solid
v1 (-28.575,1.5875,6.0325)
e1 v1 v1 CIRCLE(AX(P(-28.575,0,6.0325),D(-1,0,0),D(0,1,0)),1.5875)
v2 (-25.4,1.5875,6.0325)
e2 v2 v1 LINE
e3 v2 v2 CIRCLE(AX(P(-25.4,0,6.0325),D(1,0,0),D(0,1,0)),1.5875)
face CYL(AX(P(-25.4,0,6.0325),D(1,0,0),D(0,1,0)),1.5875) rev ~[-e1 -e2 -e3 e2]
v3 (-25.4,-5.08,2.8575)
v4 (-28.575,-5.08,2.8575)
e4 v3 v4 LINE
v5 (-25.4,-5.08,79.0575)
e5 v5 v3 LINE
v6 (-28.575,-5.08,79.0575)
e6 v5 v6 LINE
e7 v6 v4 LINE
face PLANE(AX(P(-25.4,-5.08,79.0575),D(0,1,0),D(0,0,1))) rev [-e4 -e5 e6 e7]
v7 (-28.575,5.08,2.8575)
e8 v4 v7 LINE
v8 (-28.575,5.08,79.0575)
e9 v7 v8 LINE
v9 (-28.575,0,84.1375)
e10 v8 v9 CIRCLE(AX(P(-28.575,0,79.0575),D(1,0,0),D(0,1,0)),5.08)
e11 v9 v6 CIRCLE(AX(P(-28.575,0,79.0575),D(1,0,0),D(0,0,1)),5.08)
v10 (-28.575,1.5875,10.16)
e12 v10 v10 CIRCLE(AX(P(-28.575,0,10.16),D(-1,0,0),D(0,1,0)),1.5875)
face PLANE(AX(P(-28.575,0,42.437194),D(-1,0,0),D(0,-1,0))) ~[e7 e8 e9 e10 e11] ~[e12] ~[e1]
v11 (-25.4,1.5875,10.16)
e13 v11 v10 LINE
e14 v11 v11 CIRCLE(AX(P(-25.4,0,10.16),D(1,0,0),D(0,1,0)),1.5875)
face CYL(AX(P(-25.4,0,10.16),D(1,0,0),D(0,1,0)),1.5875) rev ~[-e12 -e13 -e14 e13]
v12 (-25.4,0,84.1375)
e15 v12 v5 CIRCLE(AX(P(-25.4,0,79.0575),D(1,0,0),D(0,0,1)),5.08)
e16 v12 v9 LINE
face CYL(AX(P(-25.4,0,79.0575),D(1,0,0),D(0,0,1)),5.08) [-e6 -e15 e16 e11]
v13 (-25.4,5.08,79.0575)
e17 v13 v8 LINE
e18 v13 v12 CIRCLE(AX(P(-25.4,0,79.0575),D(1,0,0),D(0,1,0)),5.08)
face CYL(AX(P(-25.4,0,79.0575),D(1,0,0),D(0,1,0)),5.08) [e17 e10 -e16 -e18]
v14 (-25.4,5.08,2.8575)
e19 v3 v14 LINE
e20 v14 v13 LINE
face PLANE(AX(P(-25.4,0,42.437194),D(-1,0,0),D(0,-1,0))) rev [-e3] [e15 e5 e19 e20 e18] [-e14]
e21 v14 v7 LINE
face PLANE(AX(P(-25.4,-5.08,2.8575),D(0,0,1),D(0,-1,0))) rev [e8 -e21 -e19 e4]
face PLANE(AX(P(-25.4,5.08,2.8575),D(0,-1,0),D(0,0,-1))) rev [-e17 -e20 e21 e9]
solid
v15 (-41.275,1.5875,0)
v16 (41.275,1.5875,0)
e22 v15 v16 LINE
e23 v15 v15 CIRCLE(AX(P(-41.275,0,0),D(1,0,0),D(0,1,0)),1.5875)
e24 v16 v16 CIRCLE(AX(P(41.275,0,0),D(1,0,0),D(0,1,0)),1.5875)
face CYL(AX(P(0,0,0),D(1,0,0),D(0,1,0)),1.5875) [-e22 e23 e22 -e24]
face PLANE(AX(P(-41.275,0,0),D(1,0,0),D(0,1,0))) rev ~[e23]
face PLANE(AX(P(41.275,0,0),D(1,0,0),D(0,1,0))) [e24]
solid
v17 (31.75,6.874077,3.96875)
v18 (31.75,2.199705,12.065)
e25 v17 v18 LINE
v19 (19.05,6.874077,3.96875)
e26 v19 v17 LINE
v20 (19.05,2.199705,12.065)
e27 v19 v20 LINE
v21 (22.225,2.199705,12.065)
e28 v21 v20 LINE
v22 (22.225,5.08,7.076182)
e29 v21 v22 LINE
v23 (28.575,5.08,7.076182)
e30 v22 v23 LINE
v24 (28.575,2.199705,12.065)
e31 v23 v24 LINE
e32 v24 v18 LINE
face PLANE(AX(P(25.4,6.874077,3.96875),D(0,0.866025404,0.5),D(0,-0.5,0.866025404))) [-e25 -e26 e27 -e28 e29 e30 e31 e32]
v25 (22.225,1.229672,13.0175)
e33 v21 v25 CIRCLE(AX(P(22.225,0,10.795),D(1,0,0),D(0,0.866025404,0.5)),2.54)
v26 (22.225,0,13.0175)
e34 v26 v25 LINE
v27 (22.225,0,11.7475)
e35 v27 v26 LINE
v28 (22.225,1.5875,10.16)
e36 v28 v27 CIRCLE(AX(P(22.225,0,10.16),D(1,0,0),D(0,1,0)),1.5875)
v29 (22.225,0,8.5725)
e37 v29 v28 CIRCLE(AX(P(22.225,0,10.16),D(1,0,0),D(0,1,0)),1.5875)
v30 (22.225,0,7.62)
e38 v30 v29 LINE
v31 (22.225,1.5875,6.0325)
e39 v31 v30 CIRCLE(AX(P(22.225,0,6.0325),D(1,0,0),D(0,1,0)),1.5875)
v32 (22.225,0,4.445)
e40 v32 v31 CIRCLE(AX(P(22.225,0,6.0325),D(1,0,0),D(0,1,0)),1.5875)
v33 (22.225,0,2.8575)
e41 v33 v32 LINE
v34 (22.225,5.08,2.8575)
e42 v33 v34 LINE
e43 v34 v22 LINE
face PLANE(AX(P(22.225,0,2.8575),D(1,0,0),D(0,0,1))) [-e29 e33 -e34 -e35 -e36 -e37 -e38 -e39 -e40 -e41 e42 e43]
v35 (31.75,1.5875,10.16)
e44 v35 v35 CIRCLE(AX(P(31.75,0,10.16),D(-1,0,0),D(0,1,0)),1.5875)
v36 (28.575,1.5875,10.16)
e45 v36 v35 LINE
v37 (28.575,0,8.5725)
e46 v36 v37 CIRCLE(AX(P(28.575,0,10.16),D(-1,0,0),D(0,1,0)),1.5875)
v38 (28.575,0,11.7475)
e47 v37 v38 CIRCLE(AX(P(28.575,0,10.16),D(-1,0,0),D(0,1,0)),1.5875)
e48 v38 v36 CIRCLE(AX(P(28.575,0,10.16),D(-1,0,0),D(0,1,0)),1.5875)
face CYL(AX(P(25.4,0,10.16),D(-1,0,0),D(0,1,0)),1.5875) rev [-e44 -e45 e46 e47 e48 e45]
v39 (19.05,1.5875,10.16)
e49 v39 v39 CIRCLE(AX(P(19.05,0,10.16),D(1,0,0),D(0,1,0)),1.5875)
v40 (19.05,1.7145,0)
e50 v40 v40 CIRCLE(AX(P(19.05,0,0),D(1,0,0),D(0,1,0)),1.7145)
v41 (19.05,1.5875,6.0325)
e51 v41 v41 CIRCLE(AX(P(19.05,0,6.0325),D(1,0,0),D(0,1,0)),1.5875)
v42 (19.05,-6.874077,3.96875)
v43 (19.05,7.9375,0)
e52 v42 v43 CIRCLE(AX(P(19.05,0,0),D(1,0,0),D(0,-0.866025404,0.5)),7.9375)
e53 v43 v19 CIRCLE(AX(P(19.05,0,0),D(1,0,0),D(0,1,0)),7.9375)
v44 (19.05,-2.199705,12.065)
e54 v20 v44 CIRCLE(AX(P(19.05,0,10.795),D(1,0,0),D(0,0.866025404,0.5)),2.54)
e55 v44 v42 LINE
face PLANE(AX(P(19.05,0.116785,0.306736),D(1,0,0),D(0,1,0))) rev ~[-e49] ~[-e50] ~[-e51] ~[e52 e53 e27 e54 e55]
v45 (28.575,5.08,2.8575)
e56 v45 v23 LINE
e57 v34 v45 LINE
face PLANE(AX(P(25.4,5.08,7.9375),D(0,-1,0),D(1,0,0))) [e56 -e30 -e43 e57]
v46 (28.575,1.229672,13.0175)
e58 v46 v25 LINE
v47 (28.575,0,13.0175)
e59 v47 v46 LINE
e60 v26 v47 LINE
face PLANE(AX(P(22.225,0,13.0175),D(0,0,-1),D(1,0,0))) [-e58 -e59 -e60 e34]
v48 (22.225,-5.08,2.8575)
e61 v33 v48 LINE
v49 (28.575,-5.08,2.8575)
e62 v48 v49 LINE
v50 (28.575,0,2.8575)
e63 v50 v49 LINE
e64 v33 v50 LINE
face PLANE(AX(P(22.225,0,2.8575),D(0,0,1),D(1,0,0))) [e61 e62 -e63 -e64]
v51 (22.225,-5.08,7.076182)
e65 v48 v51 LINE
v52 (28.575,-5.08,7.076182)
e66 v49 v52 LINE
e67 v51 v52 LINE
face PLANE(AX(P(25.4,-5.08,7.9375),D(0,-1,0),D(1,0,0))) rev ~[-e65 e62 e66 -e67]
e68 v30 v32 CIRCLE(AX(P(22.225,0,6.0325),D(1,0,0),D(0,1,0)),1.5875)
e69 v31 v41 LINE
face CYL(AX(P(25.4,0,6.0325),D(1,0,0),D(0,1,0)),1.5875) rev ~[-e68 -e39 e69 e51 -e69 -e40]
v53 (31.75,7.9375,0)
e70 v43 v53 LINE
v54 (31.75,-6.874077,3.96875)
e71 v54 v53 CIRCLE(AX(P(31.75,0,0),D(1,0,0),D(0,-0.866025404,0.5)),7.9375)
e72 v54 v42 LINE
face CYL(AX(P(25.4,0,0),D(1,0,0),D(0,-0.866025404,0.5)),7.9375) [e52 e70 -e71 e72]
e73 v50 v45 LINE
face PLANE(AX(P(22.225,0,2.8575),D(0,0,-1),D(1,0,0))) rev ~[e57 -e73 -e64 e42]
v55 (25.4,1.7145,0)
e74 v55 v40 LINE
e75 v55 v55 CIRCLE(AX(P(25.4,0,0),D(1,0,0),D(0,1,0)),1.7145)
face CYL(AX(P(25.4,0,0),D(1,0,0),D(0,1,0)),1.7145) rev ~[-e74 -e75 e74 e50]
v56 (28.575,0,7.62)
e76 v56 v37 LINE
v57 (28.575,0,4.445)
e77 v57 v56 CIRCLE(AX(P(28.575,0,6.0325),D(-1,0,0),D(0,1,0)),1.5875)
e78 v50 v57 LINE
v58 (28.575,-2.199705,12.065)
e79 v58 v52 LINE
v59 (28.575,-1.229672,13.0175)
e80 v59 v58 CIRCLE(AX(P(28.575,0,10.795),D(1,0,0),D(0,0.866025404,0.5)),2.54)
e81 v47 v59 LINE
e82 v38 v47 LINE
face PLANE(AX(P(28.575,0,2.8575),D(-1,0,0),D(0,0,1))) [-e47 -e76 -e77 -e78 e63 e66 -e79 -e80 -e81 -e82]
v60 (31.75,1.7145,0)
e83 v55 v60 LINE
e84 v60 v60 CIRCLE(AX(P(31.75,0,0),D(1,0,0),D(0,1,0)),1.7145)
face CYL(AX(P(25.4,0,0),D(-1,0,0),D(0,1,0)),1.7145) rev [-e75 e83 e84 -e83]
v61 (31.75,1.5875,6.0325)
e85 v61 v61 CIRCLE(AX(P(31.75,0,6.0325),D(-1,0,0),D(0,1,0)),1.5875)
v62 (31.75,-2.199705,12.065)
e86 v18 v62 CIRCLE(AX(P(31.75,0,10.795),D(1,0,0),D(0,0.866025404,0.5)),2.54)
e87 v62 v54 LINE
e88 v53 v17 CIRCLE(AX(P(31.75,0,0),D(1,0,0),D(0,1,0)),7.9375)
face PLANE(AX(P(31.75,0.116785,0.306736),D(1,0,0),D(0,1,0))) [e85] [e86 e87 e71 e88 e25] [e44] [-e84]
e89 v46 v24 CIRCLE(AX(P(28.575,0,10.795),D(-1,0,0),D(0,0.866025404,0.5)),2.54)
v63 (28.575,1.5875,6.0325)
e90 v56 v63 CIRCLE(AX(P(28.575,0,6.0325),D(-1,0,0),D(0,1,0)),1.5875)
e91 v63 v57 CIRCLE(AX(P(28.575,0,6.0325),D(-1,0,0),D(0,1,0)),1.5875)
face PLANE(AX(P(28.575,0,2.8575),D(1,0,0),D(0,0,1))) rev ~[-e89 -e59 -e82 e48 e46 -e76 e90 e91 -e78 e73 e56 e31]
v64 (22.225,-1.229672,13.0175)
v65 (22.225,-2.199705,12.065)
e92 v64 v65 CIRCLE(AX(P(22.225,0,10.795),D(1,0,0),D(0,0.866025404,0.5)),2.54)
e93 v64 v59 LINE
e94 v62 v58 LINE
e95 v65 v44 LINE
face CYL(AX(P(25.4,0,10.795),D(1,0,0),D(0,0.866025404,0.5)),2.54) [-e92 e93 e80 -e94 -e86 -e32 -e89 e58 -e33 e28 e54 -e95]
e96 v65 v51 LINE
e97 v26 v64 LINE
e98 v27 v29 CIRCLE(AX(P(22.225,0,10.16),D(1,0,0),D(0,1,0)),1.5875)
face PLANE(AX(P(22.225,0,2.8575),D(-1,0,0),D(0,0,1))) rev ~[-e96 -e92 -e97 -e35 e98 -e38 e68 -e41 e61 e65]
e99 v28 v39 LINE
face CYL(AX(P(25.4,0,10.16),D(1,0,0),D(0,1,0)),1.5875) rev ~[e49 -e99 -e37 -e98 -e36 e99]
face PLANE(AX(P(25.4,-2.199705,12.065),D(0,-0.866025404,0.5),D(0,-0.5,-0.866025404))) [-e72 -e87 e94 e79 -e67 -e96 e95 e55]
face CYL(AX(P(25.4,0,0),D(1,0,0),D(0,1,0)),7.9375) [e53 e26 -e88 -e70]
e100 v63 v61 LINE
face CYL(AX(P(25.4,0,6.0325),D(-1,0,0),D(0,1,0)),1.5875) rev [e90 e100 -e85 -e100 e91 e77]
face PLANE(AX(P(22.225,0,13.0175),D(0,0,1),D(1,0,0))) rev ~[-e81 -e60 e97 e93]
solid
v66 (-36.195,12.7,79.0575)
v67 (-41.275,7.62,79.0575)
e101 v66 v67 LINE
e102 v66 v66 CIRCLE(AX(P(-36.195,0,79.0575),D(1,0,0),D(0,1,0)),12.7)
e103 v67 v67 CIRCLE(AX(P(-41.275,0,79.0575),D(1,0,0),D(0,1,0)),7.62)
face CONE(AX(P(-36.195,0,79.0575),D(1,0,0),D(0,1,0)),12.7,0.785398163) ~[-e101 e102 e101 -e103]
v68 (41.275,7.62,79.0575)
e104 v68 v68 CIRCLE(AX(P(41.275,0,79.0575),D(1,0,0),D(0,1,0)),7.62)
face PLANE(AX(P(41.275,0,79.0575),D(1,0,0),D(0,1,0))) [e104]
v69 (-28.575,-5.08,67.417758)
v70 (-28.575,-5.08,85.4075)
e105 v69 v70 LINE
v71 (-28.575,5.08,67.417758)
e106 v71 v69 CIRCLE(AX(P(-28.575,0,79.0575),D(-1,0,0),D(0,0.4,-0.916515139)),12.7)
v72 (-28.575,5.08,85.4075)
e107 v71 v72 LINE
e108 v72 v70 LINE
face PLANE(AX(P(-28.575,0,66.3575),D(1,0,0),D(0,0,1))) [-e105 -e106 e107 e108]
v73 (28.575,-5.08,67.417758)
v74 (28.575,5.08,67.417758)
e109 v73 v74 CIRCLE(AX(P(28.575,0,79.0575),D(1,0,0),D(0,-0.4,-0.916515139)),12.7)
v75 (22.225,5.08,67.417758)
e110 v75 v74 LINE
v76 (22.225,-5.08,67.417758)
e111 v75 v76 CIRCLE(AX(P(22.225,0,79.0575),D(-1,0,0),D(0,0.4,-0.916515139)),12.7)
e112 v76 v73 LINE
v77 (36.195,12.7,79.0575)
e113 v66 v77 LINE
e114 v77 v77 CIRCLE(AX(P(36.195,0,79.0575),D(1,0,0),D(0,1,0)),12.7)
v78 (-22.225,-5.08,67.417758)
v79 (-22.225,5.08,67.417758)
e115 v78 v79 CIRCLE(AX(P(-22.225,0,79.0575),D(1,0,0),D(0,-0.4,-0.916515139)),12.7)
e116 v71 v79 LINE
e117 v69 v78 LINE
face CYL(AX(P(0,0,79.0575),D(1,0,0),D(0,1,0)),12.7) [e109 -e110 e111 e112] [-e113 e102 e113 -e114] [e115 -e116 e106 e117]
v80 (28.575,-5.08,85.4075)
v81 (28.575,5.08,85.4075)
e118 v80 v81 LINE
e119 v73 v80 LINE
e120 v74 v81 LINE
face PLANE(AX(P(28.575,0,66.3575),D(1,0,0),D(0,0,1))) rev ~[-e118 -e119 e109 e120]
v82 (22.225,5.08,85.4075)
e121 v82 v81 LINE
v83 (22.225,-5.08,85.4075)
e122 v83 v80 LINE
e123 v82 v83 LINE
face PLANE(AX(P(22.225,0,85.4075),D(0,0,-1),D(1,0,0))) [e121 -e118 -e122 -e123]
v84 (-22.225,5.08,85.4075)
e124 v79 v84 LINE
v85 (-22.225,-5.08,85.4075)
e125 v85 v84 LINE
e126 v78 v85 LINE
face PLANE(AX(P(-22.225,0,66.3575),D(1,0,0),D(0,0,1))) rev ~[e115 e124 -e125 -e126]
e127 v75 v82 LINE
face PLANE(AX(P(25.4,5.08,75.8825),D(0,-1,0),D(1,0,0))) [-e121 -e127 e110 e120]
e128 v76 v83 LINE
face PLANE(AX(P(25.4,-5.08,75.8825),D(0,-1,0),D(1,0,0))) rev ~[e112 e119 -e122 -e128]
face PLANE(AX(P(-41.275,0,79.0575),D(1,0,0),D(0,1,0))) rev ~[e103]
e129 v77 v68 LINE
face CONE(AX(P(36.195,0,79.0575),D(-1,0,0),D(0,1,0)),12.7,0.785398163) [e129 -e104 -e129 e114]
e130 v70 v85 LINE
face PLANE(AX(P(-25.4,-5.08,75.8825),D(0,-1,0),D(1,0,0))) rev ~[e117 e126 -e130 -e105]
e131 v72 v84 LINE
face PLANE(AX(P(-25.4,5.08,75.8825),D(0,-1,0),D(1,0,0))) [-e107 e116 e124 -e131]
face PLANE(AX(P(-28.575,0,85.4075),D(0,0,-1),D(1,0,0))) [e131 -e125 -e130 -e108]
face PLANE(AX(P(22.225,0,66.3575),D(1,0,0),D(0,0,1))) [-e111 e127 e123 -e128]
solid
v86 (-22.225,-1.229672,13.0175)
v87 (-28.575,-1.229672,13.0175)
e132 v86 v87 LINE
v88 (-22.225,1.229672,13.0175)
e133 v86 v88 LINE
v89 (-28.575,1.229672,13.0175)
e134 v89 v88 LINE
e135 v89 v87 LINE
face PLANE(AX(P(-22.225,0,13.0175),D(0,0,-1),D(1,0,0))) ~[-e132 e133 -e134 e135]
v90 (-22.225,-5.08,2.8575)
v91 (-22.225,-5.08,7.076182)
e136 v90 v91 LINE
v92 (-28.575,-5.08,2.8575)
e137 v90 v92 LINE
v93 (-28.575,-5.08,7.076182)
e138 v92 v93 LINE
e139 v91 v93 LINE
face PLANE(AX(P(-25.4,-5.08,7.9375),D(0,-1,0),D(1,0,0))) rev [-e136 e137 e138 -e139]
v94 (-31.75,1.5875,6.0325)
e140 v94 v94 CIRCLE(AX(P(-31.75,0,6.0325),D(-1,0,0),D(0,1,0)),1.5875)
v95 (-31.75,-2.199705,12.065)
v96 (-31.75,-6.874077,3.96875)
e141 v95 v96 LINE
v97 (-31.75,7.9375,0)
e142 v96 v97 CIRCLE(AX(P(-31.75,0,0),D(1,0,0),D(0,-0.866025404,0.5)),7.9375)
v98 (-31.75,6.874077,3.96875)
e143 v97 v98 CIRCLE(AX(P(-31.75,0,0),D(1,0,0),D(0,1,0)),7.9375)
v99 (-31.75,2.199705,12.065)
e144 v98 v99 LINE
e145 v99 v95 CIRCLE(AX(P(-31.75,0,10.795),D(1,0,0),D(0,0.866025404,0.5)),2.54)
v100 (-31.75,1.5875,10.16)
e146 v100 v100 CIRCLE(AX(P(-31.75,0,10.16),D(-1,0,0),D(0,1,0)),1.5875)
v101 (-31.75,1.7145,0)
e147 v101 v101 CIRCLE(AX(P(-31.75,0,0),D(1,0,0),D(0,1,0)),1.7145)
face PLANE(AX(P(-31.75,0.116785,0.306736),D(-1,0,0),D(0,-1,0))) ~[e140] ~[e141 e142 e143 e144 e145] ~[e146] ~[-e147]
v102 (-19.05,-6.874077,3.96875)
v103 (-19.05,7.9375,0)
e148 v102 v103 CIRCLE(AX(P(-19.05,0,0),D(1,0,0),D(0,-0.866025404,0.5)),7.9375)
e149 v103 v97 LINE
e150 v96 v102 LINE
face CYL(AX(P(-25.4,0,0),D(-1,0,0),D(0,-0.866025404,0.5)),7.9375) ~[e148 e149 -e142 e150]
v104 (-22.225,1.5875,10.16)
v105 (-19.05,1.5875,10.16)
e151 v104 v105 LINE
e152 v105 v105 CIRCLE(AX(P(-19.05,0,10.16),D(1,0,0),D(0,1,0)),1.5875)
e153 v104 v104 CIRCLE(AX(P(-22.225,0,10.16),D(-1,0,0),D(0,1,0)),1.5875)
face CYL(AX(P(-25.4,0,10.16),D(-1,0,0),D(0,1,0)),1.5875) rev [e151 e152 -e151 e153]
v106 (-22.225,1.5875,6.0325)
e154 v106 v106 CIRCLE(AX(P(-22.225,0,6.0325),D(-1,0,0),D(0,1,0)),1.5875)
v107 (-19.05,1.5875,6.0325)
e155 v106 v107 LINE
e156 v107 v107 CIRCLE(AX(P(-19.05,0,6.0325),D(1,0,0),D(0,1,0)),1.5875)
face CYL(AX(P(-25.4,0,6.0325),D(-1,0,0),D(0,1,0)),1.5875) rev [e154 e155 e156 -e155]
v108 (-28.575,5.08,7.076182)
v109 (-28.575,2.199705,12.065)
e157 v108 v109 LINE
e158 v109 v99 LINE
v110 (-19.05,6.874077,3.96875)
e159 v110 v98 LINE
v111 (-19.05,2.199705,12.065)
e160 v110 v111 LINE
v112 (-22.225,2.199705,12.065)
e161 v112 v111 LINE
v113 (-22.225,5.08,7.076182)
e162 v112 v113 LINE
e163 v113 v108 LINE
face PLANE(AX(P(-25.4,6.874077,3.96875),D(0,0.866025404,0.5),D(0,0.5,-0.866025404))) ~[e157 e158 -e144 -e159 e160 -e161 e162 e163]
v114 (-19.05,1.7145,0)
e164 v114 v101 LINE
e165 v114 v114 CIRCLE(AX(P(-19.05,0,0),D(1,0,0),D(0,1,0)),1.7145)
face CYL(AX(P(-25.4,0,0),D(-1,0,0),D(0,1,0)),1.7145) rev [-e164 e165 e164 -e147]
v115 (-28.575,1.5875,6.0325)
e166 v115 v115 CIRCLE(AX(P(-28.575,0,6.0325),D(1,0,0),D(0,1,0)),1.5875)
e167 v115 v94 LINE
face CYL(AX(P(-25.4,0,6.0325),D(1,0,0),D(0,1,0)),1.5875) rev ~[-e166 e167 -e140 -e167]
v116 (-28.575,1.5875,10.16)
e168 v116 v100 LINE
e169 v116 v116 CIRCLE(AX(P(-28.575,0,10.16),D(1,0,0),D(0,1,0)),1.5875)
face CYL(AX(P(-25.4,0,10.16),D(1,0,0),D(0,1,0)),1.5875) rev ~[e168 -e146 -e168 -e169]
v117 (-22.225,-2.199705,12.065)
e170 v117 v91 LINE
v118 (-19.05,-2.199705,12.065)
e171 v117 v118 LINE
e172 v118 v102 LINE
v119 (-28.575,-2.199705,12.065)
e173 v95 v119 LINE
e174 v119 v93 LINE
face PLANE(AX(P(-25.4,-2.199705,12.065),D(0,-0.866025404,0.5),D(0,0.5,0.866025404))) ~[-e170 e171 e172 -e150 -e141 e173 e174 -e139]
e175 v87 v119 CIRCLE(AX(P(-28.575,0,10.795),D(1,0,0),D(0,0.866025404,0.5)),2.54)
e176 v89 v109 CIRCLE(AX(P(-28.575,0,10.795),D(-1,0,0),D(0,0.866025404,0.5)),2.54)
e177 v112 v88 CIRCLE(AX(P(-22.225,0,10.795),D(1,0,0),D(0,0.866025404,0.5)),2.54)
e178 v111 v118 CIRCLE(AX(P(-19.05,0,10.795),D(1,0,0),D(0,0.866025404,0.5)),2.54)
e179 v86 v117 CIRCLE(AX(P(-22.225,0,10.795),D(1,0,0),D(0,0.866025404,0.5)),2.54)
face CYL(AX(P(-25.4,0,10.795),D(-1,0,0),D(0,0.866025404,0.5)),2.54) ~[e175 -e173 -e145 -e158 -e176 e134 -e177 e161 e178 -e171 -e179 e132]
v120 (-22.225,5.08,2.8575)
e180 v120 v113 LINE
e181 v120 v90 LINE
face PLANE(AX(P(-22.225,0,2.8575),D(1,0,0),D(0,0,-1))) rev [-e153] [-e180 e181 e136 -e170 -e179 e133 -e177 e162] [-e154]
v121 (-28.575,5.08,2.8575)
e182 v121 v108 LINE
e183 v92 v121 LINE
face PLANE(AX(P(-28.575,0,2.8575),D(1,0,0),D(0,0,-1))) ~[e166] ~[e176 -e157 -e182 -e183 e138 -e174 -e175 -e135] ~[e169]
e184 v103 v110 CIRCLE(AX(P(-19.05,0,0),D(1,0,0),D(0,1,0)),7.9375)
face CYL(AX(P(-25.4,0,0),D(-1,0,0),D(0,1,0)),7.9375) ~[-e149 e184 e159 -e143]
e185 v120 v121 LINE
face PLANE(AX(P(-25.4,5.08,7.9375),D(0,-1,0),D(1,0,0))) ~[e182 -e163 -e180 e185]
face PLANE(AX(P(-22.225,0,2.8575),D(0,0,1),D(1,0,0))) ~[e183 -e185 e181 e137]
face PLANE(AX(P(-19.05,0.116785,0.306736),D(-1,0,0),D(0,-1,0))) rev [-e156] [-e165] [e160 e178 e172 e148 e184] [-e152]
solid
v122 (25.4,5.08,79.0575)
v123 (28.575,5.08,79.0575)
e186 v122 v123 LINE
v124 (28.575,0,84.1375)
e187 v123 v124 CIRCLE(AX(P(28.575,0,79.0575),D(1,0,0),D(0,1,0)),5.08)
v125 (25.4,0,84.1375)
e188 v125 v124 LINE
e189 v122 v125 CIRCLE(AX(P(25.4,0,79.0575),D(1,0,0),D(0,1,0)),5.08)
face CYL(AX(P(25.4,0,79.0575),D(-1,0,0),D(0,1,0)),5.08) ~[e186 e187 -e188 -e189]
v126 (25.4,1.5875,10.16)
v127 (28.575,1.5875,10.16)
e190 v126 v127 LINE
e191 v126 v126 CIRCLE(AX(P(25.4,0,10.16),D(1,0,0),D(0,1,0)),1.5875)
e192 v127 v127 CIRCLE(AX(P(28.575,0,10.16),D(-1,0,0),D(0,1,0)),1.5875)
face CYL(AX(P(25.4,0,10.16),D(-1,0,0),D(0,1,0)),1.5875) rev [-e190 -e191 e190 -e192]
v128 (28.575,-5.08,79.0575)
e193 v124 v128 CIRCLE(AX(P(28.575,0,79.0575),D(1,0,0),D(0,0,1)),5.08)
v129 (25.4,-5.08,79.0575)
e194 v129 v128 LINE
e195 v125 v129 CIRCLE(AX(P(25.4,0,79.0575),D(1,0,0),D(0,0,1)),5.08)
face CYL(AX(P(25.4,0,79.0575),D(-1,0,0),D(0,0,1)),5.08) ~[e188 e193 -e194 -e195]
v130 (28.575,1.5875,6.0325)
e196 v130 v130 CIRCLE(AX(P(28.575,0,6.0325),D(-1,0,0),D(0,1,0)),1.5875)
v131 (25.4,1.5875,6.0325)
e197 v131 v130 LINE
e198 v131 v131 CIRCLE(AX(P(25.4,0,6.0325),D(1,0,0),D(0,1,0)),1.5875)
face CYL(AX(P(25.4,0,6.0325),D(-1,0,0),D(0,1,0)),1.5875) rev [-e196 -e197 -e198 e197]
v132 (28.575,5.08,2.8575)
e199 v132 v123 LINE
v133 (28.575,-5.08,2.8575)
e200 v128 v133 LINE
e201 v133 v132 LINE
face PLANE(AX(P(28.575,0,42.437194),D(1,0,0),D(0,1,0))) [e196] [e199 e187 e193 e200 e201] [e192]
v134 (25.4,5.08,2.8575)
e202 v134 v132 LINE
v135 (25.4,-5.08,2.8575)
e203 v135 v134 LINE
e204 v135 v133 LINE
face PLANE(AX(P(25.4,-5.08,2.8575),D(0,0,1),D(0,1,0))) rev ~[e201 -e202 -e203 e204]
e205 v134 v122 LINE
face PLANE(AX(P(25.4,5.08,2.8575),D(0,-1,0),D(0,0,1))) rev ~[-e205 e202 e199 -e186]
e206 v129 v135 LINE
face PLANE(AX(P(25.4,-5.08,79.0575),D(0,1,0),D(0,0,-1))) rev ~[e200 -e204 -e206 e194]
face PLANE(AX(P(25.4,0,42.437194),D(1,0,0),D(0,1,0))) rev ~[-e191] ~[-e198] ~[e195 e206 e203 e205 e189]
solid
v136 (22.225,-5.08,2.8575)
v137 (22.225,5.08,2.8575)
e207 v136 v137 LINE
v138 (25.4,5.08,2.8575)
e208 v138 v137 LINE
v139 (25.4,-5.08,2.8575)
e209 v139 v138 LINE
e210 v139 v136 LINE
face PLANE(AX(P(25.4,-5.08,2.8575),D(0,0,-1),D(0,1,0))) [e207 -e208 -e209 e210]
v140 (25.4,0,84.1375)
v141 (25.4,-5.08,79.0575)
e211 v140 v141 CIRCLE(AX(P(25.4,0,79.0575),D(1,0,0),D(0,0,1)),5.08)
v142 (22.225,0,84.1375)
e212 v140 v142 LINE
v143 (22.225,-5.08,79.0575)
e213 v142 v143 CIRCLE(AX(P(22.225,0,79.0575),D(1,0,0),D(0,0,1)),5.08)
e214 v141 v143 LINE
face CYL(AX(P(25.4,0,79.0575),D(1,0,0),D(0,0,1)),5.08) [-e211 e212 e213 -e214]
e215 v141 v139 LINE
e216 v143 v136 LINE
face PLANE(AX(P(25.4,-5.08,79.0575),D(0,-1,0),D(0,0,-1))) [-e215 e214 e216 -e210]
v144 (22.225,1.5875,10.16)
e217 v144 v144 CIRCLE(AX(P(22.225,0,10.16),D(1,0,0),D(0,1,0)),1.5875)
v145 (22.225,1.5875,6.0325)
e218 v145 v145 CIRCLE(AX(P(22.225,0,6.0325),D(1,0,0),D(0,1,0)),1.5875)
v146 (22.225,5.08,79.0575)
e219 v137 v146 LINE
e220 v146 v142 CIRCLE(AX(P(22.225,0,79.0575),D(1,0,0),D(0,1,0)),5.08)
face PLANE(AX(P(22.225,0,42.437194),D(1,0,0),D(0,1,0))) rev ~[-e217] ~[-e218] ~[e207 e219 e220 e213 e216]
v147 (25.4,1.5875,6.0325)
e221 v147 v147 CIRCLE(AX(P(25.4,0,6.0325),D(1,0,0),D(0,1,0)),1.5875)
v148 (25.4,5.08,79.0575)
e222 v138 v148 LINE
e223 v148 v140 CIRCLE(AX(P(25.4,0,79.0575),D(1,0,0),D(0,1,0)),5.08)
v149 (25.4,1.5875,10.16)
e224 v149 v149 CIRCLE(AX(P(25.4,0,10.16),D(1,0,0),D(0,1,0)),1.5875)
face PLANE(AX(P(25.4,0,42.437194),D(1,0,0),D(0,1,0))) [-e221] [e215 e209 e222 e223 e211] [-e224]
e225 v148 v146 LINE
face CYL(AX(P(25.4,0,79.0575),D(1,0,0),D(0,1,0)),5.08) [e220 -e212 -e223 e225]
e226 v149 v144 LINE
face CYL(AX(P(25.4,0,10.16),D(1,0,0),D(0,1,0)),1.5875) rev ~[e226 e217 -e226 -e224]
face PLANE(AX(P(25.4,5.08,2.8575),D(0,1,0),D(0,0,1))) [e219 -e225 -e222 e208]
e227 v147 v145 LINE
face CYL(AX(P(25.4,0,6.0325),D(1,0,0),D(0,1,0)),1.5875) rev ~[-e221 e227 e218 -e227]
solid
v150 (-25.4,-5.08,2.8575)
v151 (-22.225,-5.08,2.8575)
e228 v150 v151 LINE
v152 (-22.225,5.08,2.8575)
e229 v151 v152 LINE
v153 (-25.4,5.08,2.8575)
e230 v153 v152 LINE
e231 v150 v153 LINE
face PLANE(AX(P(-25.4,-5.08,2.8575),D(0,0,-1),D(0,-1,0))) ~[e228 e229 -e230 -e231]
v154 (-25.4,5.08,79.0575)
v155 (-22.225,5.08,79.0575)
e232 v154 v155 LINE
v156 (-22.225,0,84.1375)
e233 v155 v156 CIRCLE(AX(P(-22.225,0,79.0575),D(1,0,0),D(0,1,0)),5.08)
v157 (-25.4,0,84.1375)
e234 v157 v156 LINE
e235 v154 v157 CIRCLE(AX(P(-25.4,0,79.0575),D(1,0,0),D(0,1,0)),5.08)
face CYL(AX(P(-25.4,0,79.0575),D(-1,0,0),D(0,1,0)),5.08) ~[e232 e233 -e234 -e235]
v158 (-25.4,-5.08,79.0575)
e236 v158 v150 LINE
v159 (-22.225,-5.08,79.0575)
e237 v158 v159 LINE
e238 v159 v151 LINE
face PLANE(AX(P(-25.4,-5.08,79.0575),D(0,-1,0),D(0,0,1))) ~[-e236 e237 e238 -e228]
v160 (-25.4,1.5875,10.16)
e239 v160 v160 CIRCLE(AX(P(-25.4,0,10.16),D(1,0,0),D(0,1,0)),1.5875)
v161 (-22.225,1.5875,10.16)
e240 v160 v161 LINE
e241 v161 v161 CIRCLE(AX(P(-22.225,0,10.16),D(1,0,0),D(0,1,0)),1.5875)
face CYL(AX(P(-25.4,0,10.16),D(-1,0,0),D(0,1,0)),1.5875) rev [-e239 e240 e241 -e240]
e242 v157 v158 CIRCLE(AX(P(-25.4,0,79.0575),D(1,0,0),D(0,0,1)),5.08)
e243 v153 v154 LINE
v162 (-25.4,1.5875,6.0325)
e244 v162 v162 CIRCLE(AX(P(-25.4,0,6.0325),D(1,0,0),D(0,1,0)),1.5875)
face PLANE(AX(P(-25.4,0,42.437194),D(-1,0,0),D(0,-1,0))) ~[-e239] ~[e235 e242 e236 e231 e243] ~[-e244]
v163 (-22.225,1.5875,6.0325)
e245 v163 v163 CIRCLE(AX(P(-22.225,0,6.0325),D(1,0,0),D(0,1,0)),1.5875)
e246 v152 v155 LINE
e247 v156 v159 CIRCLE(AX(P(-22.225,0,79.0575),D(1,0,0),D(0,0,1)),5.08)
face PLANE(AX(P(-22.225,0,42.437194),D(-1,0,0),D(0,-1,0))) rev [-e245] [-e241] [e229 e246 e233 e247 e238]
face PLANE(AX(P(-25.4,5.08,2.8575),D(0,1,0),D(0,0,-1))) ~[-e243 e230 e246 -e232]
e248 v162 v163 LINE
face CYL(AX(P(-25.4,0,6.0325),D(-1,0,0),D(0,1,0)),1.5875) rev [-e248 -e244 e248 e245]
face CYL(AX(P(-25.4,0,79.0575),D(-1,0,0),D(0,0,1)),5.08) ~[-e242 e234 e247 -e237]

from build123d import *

# Parameters (mm, degrees)
F0_R           = 1.5875
F1_DEPTH       = 41.275
F1_DEPTH_BACK  = 41.275
F3_R           = 1.7145
F4_DEPTH       = 6.35
F4_DEPTH_BACK  = 6.35
F5_W           = 6.35
F5_H           = 10.16
F6_DEPTH       = 5.08
F6_DEPTH_BACK  = 5.08
F8_DEPTH       = 3.175
F9_DEPTH       = 3.175
F10_R          = 1.5875
F11_DEPTH      = 25.4
F11_DEPTH_BACK = 25.4
F13_R          = 12.7
F14_DEPTH      = 41.275
F14_DEPTH_BACK = 41.275
F15_SIZE       = 5.08
F16_W          = 6.35
F16_H          = 19.05
F17_DEPTH      = 5.08
F17_DEPTH_BACK = 5.08


with BuildPart() as f1:
    # F0 (on Right) → F1 (new body, two sides)
    with BuildSketch(Plane.YZ) as f1_sk:
        Circle(F0_R)
    extrude(amount=F1_DEPTH)
    extrude(f1_sk.sketch, amount=-F1_DEPTH_BACK)


with BuildPart() as f4:
    # F3 (on offset) → F4 (new body, two sides)
    with BuildSketch(Plane.YZ.offset(25.4)) as f4_sk:
        with BuildLine():
            ThreePointArc((-6.8740766425, 3.96875), (-2.0543761705, -7.6670362462), (7.9375, 0))
            ThreePointArc((7.9375, 0), (7.6670362462, 2.0543761705), (6.8740766425, 3.96875))
            ThreePointArc((6.8740766425, 3.96875), (0, 7.9375), (-6.8740766425, 3.96875))
        make_face()
        Circle(F3_R, mode=Mode.SUBTRACT)
        with BuildLine():
            ThreePointArc((-6.8740766425, 3.96875), (0, 7.9375), (6.8740766425, 3.96875))
            Line((6.8740766425, 3.96875), (2.1997045256, 12.065))
            ThreePointArc((2.1997045256, 12.065), (0, 13.335), (-2.1997045256, 12.065))
            Line((-2.1997045256, 12.065), (-6.8740766425, 3.96875))
        make_face()
    extrude(amount=F4_DEPTH)
    extrude(f4_sk.sketch, amount=-F4_DEPTH_BACK)

    # F5 (on Front) → F6 (cut, two sides)
    with BuildSketch(Plane.XZ) as f6_sk:
        with Locations((25.4, 7.9375)):
            Rectangle(F5_W, F5_H)
    extrude(amount=-F6_DEPTH, mode=Mode.SUBTRACT)
    extrude(f6_sk.sketch, amount=F6_DEPTH_BACK, mode=Mode.SUBTRACT)


with BuildPart() as f8:
    # F7 (on offset) → F8 (new body)
    with BuildSketch(Plane.YZ.offset(25.4)):
        with BuildLine():
            Line((-5.08, 7.0761818976), (-5.08, 2.8575))
            Line((-5.08, 2.8575), (5.08, 2.8575))
            Line((5.08, 2.8575), (5.08, 7.0761818976))
            Line((5.08, 7.0761818976), (5.08, 79.0575))
            ThreePointArc((5.08, 79.0575), (3.5921024484, 82.6496024484), (0, 84.1375))
            ThreePointArc((0, 84.1375), (-3.5921024484, 82.6496024484), (-5.08, 79.0575))
            Line((-5.08, 79.0575), (-5.08, 7.0761818976))
        make_face()
    extrude(amount=F8_DEPTH)


with BuildPart() as f9:
    # F7 (on offset) → F9 (new body)
    with BuildSketch(Plane.YZ.offset(25.4)):
        with BuildLine():
            Line((-5.08, 7.0761818976), (-5.08, 2.8575))
            Line((-5.08, 2.8575), (5.08, 2.8575))
            Line((5.08, 2.8575), (5.08, 7.0761818976))
            Line((5.08, 7.0761818976), (5.08, 79.0575))
            ThreePointArc((5.08, 79.0575), (3.5921024484, 82.6496024484), (0, 84.1375))
            ThreePointArc((0, 84.1375), (-3.5921024484, 82.6496024484), (-5.08, 79.0575))
            Line((-5.08, 79.0575), (-5.08, 7.0761818976))
        make_face()
    extrude(amount=-F9_DEPTH)


with BuildPart() as f11_tool:
    # F10 (on offset) → F11 (new body, two sides)
    with BuildSketch(Plane.YZ.offset(25.4)) as f11_sk:
        with Locations((0, 6.0325)):
            Circle(F10_R)
        with Locations((0, 10.16)):
            Circle(F10_R)
    extrude(amount=-F11_DEPTH)
    extrude(f11_sk.sketch, amount=F11_DEPTH_BACK)


with BuildPart() as f4_1:
    add(f4.part)

    # F11: cut by f11_tool
    add(f11_tool.part, mode=Mode.SUBTRACT)


with BuildPart() as f8_1:
    add(f8.part)

    # F11: cut by f11_tool
    add(f11_tool.part, mode=Mode.SUBTRACT)


with BuildPart() as f9_1:
    add(f9.part)

    # F11: cut by f11_tool
    add(f11_tool.part, mode=Mode.SUBTRACT)


with BuildPart() as f12_1:
    # F12: instance of F9
    add(f9_1.part.mirror(Plane.YZ))


with BuildPart() as f12_2:
    # F12: instance of F8
    add(f8_1.part.mirror(Plane.YZ))


with BuildPart() as f12_3:
    # F12: instance of F4
    add(f4_1.part.mirror(Plane.YZ))


with BuildPart() as f14:
    # F13 (on Right) → F14 (new body, two sides)
    with BuildSketch(Plane.YZ) as f14_sk:
        with Locations((0, 79.0575)):
            Circle(F13_R)
    extrude(amount=F14_DEPTH)
    extrude(f14_sk.sketch, amount=-F14_DEPTH_BACK)

    # F15
    f15_edges = [f14.edges().sort_by_distance(p)[0] for p in [
        (41.275, -12.7, 79.0575),
        (-41.275, -12.7, 79.0575),
    ]]
    chamfer(f15_edges, length=F15_SIZE)

    # F16 (on Front) → F17 (cut, two sides)
    with BuildSketch(Plane.XZ) as f17_sk:
        with Locations((-25.4, 75.8825)):
            Rectangle(F16_W, F16_H)
        with Locations((25.4, 75.8825)):
            Rectangle(F16_W, F16_H)
    extrude(amount=F17_DEPTH, mode=Mode.SUBTRACT)
    extrude(f17_sk.sketch, amount=-F17_DEPTH_BACK, mode=Mode.SUBTRACT)


solid = Compound([f1.part, f4_1.part, f8_1.part, f9_1.part, f12_1.part, f12_2.part, f12_3.part, f14.part])
